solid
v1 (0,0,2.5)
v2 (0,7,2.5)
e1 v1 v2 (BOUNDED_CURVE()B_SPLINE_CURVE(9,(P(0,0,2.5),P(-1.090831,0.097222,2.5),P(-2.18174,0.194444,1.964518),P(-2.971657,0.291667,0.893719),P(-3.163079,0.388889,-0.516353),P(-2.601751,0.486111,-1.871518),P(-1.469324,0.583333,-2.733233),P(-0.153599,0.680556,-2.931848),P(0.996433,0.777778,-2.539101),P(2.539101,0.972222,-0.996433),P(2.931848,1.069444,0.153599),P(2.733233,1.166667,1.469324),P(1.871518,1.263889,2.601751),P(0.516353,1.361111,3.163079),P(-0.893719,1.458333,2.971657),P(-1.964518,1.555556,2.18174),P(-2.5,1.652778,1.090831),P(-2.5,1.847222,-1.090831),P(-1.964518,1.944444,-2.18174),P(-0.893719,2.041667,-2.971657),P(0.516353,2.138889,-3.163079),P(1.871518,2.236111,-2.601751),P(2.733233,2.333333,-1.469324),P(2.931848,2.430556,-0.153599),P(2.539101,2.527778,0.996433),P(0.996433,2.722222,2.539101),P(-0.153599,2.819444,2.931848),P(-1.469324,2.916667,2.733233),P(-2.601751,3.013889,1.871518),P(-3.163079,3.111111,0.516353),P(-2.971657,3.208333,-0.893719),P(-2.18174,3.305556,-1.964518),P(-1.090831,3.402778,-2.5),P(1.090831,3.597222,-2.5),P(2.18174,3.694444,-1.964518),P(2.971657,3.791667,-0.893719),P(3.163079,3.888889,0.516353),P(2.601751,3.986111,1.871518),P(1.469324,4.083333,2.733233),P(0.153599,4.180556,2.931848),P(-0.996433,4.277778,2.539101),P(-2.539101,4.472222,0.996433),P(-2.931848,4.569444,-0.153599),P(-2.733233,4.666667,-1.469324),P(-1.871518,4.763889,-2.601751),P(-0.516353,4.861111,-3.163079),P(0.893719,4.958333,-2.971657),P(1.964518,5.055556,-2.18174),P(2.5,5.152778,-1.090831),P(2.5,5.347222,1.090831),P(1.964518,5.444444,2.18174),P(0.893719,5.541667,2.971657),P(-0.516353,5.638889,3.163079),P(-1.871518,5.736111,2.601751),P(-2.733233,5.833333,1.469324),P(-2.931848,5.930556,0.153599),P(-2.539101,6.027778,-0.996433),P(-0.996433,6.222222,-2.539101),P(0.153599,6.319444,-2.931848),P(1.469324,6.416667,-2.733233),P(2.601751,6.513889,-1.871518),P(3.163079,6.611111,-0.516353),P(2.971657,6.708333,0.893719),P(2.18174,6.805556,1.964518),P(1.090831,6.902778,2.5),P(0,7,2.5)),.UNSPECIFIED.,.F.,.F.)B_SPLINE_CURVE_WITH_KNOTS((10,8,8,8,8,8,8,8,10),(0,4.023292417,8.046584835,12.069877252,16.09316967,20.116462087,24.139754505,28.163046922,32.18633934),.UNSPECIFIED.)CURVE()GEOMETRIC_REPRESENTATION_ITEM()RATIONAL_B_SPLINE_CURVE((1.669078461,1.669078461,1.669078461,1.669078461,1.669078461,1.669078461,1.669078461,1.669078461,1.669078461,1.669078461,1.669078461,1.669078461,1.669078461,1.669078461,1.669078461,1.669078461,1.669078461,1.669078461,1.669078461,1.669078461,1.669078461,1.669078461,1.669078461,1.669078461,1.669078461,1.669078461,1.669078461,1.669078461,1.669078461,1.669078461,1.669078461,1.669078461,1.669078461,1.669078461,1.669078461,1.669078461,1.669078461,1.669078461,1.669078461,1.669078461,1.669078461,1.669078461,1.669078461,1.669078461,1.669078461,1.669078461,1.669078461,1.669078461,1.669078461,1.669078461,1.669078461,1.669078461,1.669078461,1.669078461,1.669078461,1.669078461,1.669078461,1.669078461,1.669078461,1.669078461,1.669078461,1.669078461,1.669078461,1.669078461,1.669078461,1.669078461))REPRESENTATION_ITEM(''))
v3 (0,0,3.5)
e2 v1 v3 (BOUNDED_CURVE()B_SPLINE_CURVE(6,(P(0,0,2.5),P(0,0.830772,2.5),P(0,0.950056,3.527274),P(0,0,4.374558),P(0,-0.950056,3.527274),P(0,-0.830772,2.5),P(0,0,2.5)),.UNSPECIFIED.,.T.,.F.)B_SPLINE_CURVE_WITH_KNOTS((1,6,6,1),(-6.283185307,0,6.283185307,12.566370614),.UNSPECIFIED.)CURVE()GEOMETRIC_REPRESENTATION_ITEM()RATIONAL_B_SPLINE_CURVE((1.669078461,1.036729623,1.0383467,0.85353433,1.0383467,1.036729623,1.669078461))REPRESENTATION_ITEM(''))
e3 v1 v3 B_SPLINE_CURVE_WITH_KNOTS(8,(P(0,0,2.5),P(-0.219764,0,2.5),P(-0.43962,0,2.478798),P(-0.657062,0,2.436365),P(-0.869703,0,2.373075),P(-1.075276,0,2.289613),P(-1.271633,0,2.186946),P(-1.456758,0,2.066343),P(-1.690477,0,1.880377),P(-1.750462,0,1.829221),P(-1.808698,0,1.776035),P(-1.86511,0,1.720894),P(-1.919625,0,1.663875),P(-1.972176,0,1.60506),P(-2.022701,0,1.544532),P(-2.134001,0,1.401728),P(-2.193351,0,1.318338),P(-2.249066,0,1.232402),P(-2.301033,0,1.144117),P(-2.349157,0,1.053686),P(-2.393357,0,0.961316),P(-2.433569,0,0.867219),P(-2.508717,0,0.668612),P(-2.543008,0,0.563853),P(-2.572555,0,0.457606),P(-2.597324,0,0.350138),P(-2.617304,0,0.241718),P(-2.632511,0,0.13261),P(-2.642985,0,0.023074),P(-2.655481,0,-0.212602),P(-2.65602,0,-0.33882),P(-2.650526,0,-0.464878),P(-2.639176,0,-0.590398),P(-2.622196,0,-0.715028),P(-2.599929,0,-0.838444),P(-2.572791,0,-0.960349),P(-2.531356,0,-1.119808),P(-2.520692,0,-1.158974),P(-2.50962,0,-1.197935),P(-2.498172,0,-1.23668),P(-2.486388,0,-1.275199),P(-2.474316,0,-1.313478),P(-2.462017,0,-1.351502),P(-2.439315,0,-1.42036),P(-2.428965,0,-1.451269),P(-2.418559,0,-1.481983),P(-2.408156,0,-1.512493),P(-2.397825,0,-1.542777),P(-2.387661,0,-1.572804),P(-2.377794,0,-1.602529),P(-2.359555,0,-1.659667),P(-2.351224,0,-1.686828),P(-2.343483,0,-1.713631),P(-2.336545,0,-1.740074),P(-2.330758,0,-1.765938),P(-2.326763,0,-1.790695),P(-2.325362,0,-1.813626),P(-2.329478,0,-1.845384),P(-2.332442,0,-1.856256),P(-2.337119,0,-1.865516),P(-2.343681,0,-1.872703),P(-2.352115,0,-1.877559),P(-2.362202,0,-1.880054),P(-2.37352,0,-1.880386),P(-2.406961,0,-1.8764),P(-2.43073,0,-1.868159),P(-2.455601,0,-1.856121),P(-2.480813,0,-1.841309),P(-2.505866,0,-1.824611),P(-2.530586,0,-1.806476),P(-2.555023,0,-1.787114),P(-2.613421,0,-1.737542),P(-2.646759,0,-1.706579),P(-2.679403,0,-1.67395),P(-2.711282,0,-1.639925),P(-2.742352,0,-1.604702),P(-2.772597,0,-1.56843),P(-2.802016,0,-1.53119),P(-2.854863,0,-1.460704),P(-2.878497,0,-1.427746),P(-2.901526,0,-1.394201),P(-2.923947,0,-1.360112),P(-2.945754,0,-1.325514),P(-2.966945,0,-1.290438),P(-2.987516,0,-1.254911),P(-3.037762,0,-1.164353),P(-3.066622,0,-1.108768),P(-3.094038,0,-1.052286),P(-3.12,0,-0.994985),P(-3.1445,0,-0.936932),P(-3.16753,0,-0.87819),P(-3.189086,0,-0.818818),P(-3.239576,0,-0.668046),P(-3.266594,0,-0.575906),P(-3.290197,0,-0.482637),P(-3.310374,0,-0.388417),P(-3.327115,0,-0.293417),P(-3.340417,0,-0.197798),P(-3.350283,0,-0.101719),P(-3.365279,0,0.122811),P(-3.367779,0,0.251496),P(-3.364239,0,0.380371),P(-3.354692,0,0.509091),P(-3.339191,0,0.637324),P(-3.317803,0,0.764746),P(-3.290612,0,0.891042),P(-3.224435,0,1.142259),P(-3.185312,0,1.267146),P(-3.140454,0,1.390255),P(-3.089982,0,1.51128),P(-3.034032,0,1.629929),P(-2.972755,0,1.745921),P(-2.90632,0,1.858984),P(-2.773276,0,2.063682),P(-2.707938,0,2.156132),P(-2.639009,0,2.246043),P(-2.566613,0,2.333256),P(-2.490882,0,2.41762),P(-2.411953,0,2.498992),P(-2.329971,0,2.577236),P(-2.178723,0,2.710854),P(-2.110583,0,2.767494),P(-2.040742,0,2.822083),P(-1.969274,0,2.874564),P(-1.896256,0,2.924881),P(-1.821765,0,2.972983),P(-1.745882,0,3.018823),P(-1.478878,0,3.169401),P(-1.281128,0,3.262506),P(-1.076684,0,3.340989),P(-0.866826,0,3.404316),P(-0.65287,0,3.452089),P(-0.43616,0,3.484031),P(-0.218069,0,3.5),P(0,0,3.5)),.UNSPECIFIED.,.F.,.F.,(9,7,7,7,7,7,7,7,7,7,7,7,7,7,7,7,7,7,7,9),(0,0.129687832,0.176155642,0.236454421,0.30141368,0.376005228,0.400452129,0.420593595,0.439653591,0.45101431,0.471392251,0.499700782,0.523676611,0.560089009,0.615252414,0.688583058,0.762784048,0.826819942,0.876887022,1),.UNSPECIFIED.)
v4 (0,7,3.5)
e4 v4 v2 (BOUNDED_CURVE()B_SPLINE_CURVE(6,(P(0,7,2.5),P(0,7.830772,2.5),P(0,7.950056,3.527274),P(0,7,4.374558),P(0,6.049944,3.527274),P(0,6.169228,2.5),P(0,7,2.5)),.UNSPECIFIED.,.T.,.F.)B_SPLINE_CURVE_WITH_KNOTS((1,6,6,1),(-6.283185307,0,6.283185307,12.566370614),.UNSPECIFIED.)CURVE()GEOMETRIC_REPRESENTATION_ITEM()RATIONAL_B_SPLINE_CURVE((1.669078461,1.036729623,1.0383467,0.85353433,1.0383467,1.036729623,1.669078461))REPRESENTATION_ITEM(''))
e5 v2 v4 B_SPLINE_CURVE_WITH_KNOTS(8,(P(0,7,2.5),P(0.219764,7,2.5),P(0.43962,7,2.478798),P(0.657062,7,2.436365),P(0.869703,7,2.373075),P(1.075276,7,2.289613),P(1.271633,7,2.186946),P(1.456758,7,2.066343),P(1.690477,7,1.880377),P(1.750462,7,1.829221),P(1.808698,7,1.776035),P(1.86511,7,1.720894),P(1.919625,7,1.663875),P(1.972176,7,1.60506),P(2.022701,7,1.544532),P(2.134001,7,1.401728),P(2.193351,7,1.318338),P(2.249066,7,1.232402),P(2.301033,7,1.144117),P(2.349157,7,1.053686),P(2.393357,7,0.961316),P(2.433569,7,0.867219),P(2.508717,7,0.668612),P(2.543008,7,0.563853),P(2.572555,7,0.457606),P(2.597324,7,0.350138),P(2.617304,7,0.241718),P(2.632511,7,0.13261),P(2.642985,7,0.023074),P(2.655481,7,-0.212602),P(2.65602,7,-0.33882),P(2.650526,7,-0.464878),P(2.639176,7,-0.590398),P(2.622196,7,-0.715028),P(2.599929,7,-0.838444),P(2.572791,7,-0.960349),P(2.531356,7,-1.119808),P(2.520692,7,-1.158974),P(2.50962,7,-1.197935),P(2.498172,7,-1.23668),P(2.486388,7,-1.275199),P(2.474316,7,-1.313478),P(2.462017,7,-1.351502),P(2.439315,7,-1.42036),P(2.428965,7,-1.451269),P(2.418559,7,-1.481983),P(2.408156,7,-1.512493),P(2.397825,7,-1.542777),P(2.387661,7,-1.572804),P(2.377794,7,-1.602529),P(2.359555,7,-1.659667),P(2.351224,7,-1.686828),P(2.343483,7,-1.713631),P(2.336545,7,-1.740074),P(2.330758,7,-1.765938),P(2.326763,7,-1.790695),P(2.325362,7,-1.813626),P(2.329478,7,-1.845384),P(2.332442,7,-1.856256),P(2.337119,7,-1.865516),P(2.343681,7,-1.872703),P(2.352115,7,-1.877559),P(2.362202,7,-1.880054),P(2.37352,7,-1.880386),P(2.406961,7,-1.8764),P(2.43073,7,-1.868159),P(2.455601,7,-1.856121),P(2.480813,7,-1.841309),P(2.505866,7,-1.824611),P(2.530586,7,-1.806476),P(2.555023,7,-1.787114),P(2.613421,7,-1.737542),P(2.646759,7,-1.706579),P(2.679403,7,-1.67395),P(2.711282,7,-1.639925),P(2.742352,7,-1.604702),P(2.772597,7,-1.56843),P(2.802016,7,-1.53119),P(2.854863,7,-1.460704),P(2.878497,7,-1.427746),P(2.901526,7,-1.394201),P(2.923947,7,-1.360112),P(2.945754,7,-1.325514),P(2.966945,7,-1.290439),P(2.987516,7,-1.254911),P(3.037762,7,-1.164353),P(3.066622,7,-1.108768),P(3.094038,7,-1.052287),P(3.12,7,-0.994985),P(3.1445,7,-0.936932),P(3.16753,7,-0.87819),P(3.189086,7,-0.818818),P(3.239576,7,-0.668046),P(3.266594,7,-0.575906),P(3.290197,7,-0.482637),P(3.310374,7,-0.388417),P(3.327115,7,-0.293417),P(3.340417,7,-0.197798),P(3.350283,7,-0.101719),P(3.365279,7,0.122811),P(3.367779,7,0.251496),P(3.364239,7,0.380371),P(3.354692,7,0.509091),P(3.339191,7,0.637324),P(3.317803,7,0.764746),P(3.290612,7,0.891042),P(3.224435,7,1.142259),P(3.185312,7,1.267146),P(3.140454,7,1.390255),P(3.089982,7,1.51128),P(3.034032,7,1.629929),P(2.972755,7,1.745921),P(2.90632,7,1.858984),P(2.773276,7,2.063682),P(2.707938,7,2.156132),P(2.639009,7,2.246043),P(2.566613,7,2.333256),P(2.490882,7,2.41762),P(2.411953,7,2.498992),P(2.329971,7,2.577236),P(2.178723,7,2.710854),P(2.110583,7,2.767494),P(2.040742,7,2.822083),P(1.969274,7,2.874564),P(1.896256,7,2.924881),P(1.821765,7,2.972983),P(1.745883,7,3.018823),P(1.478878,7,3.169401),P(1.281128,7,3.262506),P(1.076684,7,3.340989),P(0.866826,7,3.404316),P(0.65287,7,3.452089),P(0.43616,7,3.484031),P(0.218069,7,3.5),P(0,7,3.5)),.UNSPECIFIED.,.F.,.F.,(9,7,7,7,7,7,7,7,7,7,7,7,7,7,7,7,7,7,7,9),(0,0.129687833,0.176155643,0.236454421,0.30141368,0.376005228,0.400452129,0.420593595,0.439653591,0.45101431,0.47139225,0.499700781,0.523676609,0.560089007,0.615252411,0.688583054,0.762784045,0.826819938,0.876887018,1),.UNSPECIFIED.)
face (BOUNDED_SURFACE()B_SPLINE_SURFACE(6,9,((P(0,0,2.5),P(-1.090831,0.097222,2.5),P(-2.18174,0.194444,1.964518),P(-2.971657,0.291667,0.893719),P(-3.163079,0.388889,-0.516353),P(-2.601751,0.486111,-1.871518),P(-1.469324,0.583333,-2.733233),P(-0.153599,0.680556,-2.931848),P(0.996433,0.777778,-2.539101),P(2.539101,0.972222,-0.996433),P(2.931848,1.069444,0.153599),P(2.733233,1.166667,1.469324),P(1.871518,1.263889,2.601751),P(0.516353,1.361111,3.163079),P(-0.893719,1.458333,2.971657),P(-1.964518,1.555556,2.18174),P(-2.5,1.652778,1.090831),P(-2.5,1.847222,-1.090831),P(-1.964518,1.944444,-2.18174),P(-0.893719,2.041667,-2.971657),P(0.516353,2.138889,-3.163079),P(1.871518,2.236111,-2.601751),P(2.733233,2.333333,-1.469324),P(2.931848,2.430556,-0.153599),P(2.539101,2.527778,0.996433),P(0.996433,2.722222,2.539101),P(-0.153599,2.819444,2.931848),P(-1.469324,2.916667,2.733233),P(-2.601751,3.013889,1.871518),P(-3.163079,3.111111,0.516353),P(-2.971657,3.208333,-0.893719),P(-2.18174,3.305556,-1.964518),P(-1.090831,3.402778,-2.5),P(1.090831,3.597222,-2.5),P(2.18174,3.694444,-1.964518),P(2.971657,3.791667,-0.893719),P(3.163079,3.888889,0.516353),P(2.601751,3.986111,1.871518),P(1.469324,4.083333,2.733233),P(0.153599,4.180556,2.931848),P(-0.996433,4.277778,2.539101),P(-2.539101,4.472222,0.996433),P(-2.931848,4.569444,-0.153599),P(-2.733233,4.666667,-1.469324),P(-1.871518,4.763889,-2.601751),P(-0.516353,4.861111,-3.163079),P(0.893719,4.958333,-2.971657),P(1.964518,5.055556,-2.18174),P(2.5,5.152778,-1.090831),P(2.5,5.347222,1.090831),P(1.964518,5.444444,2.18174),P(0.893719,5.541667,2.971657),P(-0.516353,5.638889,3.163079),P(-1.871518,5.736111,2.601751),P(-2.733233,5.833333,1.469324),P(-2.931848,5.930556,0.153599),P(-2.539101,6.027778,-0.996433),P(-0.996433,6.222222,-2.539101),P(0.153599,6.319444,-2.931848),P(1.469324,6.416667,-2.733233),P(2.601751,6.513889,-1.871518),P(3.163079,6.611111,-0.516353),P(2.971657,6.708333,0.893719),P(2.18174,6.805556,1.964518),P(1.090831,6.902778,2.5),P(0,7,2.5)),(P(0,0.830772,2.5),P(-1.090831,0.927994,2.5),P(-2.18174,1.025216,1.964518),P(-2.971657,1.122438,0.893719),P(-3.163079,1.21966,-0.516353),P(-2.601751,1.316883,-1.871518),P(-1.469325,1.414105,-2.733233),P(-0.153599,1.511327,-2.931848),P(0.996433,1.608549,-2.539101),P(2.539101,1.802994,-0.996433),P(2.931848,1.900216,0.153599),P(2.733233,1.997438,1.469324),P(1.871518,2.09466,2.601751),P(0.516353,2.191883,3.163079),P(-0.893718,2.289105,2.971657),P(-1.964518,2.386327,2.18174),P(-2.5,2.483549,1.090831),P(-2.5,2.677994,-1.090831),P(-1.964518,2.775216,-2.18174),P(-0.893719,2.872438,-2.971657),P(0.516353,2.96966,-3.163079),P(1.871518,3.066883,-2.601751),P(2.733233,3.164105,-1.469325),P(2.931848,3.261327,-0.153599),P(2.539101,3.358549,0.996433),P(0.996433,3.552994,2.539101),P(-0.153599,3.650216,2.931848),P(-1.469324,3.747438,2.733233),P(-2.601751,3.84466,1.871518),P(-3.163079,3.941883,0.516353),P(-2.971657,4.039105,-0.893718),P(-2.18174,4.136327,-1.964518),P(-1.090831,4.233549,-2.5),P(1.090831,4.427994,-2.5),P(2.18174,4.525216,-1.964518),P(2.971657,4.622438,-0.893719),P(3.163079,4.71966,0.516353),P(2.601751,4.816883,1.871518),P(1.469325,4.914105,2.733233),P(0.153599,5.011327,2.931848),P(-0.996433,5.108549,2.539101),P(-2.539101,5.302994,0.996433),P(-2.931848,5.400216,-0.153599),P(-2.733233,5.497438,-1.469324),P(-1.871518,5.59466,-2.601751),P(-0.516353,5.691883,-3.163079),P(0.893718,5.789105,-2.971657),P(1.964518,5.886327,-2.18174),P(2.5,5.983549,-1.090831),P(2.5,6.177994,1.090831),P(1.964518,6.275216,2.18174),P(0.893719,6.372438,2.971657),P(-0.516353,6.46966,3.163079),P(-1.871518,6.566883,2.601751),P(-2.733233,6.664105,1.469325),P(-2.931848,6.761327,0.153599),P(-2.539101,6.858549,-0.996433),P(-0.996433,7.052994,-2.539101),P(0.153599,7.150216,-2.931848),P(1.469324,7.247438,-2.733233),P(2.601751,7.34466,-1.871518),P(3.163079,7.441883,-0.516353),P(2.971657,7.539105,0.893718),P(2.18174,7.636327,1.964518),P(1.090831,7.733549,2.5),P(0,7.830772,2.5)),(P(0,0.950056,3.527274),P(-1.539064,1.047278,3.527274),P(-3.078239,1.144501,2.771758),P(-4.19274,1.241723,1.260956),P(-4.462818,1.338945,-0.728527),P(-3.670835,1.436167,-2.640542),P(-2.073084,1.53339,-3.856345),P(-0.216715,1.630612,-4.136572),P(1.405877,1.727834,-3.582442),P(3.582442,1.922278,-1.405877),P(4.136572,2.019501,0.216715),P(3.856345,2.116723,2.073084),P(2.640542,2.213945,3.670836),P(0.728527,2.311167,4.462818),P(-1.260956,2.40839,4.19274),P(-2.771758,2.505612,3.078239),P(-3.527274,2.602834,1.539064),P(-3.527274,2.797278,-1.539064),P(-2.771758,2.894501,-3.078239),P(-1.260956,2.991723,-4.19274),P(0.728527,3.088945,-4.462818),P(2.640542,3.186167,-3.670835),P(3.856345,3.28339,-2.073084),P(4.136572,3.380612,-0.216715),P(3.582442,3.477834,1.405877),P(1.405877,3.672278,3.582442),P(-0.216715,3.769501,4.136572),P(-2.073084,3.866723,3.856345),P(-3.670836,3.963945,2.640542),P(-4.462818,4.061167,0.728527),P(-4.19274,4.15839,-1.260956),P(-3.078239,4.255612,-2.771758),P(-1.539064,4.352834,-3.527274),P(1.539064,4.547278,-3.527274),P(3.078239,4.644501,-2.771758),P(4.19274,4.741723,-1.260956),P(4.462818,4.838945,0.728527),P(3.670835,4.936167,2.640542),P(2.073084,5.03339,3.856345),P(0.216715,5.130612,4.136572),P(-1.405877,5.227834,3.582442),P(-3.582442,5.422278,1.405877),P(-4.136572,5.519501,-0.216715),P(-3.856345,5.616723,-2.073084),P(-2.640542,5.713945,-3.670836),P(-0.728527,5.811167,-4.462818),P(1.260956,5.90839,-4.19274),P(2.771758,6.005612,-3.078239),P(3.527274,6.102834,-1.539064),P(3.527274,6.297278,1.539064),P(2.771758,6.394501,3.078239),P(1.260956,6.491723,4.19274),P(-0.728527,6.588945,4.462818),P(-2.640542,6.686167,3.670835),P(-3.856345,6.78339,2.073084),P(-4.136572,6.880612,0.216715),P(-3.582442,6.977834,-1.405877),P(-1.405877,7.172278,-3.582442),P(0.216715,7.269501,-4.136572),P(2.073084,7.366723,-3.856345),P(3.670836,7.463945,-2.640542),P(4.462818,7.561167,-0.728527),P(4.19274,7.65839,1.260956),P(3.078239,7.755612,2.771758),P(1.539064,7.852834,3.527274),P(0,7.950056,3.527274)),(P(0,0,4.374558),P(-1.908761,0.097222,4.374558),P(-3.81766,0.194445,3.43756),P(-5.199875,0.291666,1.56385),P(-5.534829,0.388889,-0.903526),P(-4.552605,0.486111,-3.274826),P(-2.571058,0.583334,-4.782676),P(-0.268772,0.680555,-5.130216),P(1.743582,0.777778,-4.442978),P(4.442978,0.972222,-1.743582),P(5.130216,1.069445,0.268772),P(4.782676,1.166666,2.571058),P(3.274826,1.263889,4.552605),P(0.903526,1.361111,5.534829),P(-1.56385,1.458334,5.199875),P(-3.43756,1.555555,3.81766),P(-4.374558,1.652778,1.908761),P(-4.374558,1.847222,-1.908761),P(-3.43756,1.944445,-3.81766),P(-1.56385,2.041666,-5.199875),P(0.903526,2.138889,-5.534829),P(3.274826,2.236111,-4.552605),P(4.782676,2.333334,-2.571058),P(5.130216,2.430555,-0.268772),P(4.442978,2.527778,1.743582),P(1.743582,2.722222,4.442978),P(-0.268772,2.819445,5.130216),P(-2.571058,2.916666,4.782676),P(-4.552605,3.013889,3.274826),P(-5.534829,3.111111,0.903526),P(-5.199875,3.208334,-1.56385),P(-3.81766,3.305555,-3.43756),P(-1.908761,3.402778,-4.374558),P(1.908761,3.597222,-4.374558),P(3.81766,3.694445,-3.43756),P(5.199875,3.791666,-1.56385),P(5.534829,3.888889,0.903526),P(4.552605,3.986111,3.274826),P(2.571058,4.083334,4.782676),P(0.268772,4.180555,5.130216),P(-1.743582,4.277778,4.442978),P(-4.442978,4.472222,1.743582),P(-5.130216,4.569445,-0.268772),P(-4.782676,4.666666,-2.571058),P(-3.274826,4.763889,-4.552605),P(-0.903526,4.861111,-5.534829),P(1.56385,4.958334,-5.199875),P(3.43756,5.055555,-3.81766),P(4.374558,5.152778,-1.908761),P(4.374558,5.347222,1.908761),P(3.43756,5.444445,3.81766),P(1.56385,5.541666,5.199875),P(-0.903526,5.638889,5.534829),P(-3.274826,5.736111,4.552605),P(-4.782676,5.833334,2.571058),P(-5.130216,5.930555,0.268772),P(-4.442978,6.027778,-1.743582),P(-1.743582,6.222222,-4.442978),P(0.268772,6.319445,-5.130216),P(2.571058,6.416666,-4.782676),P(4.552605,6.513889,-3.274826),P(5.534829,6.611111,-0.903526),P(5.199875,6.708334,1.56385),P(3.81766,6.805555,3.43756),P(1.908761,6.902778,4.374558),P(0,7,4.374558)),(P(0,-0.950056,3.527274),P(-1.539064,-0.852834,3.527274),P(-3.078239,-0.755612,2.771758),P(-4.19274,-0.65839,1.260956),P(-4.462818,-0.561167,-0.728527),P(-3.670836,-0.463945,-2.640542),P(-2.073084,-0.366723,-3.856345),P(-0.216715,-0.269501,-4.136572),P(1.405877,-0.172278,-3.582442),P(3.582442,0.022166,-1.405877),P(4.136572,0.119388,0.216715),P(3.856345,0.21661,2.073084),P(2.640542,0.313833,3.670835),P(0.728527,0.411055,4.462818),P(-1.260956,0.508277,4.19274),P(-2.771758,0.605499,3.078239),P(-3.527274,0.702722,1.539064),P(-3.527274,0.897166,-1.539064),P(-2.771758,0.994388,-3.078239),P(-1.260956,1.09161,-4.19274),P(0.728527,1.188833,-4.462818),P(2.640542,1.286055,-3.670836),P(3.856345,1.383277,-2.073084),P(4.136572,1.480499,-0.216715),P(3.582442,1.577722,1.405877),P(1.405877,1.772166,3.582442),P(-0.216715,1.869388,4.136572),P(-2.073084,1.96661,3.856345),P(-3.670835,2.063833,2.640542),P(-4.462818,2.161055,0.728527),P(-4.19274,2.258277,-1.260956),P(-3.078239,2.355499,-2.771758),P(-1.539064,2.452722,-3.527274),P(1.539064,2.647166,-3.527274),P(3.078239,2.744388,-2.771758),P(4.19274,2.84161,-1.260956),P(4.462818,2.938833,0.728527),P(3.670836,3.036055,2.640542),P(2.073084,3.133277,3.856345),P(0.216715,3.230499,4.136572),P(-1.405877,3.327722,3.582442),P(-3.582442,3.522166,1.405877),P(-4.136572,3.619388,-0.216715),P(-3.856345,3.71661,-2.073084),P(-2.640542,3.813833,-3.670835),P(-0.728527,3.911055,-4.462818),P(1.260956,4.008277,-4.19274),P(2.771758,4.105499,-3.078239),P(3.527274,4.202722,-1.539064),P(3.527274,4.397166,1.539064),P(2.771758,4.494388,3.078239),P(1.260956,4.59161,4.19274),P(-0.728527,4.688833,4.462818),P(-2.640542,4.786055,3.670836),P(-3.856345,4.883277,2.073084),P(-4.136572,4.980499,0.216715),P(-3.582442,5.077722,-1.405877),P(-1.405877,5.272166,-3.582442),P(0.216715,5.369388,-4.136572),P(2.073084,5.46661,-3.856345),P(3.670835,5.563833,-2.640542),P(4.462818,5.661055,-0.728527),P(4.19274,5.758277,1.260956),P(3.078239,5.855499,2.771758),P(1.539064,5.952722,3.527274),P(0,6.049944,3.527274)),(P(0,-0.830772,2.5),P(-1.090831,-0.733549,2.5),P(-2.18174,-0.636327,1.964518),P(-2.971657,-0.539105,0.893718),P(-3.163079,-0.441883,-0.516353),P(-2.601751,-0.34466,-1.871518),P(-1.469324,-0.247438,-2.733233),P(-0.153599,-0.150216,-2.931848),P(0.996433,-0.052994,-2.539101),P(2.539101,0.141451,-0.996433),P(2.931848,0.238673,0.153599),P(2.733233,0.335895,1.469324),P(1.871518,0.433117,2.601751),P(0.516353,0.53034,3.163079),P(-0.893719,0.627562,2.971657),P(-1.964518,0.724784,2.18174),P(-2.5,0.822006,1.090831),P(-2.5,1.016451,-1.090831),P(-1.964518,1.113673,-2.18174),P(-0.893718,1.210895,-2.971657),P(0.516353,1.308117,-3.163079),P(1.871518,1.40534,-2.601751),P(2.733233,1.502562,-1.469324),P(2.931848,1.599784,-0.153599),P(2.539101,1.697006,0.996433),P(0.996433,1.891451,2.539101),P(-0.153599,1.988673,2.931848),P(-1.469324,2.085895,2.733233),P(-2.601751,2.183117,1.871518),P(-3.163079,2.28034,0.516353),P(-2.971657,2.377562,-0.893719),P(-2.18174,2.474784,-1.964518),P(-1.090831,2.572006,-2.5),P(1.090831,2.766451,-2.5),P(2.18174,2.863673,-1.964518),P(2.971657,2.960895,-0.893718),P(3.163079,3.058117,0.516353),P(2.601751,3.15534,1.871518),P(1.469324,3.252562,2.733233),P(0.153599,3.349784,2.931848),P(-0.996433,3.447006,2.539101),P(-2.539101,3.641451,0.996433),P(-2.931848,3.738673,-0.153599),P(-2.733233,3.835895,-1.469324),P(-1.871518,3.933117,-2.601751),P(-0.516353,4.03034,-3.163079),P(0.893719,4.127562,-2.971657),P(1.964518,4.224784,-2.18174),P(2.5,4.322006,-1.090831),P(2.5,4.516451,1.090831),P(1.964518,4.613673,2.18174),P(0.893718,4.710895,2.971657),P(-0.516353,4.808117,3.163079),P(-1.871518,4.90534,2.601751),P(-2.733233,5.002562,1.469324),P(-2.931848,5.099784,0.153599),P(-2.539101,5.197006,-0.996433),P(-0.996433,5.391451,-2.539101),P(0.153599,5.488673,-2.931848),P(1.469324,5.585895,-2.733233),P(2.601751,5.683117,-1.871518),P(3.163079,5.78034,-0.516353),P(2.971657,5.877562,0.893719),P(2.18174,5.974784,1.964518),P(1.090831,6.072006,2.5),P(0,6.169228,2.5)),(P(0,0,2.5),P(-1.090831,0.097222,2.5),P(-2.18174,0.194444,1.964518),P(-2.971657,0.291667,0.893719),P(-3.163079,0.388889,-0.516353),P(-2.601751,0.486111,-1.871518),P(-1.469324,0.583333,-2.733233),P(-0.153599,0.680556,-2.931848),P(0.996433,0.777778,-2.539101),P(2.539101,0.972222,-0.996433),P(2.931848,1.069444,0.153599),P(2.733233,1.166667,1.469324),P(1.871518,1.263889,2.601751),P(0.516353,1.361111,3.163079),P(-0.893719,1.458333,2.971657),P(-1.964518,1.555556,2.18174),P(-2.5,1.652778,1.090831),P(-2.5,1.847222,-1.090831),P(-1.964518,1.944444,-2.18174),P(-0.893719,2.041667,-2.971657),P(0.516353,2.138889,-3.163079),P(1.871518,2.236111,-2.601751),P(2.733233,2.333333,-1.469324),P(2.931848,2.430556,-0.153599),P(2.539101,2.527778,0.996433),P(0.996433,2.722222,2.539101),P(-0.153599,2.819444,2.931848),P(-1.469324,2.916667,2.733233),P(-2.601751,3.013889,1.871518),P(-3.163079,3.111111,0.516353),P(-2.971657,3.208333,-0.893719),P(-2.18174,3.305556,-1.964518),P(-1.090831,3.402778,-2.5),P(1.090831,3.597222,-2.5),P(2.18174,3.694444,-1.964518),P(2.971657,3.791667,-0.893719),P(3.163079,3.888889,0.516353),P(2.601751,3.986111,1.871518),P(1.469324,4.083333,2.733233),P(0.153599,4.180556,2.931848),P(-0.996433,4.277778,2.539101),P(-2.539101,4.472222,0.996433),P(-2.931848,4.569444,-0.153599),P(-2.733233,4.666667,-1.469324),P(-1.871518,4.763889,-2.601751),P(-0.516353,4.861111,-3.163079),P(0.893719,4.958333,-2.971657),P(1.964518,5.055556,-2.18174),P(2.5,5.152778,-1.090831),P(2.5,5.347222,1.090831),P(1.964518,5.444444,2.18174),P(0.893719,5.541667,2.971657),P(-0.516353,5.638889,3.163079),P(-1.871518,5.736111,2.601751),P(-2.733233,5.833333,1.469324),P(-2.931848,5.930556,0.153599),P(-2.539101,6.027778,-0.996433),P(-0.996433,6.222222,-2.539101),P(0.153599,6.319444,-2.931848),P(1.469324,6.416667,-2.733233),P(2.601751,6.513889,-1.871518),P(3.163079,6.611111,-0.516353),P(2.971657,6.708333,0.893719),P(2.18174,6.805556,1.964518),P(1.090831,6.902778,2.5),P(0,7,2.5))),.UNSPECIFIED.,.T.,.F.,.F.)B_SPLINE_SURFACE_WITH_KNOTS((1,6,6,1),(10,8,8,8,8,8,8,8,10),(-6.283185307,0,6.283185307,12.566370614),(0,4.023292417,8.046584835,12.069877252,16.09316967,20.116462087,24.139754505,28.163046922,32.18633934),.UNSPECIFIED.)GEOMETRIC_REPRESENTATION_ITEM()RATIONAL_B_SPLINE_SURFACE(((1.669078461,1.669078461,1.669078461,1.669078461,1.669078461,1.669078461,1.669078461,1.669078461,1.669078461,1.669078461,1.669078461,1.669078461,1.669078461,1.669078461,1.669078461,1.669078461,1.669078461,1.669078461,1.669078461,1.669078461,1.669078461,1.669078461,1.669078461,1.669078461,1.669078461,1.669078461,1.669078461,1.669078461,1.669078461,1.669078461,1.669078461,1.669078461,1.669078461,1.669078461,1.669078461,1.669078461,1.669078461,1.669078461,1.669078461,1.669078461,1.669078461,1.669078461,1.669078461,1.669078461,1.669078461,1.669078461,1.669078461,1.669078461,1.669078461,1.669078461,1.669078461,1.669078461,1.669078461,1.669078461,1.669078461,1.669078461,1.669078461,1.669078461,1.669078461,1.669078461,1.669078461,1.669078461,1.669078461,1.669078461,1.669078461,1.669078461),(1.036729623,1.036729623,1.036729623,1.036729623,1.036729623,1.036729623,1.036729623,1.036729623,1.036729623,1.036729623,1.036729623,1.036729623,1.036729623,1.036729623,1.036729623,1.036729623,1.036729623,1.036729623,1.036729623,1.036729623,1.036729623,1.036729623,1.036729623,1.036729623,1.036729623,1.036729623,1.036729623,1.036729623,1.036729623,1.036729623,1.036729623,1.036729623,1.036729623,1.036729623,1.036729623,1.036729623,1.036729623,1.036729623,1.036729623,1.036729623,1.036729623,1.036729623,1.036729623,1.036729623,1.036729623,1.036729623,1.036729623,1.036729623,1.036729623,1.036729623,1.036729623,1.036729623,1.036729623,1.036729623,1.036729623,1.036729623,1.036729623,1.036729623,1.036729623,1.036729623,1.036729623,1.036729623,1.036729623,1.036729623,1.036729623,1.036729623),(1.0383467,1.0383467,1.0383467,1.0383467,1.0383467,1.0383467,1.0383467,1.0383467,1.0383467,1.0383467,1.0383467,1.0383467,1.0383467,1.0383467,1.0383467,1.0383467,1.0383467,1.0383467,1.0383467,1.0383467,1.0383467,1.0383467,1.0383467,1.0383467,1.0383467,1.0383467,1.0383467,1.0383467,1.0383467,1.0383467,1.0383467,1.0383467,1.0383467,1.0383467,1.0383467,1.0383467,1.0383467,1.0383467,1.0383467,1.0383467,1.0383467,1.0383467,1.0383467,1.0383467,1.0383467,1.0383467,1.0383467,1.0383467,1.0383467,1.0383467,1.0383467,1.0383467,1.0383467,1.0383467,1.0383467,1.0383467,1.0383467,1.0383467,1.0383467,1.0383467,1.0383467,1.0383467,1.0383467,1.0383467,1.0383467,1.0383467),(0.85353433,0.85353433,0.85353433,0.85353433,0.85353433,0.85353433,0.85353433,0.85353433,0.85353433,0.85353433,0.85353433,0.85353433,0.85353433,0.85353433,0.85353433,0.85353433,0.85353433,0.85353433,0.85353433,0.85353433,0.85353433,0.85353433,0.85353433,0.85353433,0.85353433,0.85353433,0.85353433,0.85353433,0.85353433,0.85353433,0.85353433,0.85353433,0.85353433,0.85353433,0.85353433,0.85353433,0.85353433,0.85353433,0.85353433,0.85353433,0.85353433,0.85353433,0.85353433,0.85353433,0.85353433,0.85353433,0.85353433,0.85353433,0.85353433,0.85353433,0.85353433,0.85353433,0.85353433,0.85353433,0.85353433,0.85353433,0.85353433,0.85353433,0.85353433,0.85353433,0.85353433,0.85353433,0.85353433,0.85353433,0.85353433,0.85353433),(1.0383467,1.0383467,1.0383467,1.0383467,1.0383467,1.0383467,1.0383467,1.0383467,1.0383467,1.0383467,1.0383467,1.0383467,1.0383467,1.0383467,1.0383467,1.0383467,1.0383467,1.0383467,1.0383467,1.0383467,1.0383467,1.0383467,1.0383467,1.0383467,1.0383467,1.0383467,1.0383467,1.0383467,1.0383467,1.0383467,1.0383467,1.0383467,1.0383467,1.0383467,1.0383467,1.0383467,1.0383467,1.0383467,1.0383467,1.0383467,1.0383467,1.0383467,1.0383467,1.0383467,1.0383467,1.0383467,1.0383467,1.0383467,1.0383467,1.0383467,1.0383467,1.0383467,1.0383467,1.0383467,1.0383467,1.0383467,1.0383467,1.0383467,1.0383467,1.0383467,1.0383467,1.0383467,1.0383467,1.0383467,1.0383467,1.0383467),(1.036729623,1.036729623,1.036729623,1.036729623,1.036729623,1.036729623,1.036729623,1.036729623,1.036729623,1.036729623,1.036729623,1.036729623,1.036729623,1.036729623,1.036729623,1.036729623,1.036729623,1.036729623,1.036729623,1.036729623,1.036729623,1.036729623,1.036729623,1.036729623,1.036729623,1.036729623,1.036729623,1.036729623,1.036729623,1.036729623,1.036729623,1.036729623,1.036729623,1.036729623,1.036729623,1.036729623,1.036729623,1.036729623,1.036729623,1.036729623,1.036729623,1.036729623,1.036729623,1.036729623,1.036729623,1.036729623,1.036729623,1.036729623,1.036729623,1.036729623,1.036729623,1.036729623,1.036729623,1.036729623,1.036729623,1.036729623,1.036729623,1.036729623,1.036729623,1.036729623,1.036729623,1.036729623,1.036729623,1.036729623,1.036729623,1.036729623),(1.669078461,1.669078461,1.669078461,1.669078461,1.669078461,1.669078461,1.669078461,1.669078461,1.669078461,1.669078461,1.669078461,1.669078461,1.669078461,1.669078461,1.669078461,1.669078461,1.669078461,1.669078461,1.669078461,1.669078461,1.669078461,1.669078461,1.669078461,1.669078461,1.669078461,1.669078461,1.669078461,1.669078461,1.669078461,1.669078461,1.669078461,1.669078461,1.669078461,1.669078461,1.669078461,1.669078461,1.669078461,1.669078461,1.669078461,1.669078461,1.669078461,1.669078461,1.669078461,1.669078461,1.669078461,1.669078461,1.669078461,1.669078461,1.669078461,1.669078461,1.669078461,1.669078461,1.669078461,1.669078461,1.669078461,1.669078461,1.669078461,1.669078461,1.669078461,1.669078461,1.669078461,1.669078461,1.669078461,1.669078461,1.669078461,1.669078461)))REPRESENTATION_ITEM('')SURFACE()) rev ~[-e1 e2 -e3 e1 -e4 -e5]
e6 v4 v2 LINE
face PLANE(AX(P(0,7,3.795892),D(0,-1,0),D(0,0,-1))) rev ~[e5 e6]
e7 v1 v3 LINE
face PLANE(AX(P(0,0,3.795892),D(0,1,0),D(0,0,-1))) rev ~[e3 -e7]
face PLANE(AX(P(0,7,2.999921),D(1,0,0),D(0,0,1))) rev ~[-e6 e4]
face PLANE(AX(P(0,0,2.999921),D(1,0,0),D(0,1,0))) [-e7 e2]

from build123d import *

# Parameters (mm, degrees)
SWEEP1_PITCH       = 1.4
SWEEP1_HEIGHT      = 7
SWEEP1_RADIUS      = 3
SKETCH2_R          = 0.5
SKETCH3_W          = 8.214228416
SKETCH3_H          = 0.5
CUT_EXTRUDE1_DEPTH = 5


with BuildPart() as part:
    # Sweep1: sweep along a helix
    with BuildLine() as sweep1_path:
        Helix(SWEEP1_PITCH, SWEEP1_HEIGHT, SWEEP1_RADIUS, center=(0, 0, 0), direction=(0, 1, 0), lefthand=True)
    # Sketch2 → Sweep1 (sweep)
    with BuildSketch(Plane(origin=(0, 0, 0), x_dir=(0, 0, -1), z_dir=(1, 0, 0))):
        with Locations((-3, 0)):
            Circle(SKETCH2_R)
    sweep(path=sweep1_path.line, is_frenet=True)

    # Sketch3 → Cut-Extrude1 (cut, symmetric)
    with BuildSketch(Plane(origin=(0, 0, 0), x_dir=(0, 0, -1), z_dir=(1, 0, 0))):
        with Locations((0.311222319, -0.25)):
            Rectangle(SKETCH3_W, SKETCH3_H)
        with Locations((0.311222319, 7.25)):
            Rectangle(SKETCH3_W, SKETCH3_H)
    extrude(amount=CUT_EXTRUDE1_DEPTH, both=True, mode=Mode.SUBTRACT)


solid = part.part
